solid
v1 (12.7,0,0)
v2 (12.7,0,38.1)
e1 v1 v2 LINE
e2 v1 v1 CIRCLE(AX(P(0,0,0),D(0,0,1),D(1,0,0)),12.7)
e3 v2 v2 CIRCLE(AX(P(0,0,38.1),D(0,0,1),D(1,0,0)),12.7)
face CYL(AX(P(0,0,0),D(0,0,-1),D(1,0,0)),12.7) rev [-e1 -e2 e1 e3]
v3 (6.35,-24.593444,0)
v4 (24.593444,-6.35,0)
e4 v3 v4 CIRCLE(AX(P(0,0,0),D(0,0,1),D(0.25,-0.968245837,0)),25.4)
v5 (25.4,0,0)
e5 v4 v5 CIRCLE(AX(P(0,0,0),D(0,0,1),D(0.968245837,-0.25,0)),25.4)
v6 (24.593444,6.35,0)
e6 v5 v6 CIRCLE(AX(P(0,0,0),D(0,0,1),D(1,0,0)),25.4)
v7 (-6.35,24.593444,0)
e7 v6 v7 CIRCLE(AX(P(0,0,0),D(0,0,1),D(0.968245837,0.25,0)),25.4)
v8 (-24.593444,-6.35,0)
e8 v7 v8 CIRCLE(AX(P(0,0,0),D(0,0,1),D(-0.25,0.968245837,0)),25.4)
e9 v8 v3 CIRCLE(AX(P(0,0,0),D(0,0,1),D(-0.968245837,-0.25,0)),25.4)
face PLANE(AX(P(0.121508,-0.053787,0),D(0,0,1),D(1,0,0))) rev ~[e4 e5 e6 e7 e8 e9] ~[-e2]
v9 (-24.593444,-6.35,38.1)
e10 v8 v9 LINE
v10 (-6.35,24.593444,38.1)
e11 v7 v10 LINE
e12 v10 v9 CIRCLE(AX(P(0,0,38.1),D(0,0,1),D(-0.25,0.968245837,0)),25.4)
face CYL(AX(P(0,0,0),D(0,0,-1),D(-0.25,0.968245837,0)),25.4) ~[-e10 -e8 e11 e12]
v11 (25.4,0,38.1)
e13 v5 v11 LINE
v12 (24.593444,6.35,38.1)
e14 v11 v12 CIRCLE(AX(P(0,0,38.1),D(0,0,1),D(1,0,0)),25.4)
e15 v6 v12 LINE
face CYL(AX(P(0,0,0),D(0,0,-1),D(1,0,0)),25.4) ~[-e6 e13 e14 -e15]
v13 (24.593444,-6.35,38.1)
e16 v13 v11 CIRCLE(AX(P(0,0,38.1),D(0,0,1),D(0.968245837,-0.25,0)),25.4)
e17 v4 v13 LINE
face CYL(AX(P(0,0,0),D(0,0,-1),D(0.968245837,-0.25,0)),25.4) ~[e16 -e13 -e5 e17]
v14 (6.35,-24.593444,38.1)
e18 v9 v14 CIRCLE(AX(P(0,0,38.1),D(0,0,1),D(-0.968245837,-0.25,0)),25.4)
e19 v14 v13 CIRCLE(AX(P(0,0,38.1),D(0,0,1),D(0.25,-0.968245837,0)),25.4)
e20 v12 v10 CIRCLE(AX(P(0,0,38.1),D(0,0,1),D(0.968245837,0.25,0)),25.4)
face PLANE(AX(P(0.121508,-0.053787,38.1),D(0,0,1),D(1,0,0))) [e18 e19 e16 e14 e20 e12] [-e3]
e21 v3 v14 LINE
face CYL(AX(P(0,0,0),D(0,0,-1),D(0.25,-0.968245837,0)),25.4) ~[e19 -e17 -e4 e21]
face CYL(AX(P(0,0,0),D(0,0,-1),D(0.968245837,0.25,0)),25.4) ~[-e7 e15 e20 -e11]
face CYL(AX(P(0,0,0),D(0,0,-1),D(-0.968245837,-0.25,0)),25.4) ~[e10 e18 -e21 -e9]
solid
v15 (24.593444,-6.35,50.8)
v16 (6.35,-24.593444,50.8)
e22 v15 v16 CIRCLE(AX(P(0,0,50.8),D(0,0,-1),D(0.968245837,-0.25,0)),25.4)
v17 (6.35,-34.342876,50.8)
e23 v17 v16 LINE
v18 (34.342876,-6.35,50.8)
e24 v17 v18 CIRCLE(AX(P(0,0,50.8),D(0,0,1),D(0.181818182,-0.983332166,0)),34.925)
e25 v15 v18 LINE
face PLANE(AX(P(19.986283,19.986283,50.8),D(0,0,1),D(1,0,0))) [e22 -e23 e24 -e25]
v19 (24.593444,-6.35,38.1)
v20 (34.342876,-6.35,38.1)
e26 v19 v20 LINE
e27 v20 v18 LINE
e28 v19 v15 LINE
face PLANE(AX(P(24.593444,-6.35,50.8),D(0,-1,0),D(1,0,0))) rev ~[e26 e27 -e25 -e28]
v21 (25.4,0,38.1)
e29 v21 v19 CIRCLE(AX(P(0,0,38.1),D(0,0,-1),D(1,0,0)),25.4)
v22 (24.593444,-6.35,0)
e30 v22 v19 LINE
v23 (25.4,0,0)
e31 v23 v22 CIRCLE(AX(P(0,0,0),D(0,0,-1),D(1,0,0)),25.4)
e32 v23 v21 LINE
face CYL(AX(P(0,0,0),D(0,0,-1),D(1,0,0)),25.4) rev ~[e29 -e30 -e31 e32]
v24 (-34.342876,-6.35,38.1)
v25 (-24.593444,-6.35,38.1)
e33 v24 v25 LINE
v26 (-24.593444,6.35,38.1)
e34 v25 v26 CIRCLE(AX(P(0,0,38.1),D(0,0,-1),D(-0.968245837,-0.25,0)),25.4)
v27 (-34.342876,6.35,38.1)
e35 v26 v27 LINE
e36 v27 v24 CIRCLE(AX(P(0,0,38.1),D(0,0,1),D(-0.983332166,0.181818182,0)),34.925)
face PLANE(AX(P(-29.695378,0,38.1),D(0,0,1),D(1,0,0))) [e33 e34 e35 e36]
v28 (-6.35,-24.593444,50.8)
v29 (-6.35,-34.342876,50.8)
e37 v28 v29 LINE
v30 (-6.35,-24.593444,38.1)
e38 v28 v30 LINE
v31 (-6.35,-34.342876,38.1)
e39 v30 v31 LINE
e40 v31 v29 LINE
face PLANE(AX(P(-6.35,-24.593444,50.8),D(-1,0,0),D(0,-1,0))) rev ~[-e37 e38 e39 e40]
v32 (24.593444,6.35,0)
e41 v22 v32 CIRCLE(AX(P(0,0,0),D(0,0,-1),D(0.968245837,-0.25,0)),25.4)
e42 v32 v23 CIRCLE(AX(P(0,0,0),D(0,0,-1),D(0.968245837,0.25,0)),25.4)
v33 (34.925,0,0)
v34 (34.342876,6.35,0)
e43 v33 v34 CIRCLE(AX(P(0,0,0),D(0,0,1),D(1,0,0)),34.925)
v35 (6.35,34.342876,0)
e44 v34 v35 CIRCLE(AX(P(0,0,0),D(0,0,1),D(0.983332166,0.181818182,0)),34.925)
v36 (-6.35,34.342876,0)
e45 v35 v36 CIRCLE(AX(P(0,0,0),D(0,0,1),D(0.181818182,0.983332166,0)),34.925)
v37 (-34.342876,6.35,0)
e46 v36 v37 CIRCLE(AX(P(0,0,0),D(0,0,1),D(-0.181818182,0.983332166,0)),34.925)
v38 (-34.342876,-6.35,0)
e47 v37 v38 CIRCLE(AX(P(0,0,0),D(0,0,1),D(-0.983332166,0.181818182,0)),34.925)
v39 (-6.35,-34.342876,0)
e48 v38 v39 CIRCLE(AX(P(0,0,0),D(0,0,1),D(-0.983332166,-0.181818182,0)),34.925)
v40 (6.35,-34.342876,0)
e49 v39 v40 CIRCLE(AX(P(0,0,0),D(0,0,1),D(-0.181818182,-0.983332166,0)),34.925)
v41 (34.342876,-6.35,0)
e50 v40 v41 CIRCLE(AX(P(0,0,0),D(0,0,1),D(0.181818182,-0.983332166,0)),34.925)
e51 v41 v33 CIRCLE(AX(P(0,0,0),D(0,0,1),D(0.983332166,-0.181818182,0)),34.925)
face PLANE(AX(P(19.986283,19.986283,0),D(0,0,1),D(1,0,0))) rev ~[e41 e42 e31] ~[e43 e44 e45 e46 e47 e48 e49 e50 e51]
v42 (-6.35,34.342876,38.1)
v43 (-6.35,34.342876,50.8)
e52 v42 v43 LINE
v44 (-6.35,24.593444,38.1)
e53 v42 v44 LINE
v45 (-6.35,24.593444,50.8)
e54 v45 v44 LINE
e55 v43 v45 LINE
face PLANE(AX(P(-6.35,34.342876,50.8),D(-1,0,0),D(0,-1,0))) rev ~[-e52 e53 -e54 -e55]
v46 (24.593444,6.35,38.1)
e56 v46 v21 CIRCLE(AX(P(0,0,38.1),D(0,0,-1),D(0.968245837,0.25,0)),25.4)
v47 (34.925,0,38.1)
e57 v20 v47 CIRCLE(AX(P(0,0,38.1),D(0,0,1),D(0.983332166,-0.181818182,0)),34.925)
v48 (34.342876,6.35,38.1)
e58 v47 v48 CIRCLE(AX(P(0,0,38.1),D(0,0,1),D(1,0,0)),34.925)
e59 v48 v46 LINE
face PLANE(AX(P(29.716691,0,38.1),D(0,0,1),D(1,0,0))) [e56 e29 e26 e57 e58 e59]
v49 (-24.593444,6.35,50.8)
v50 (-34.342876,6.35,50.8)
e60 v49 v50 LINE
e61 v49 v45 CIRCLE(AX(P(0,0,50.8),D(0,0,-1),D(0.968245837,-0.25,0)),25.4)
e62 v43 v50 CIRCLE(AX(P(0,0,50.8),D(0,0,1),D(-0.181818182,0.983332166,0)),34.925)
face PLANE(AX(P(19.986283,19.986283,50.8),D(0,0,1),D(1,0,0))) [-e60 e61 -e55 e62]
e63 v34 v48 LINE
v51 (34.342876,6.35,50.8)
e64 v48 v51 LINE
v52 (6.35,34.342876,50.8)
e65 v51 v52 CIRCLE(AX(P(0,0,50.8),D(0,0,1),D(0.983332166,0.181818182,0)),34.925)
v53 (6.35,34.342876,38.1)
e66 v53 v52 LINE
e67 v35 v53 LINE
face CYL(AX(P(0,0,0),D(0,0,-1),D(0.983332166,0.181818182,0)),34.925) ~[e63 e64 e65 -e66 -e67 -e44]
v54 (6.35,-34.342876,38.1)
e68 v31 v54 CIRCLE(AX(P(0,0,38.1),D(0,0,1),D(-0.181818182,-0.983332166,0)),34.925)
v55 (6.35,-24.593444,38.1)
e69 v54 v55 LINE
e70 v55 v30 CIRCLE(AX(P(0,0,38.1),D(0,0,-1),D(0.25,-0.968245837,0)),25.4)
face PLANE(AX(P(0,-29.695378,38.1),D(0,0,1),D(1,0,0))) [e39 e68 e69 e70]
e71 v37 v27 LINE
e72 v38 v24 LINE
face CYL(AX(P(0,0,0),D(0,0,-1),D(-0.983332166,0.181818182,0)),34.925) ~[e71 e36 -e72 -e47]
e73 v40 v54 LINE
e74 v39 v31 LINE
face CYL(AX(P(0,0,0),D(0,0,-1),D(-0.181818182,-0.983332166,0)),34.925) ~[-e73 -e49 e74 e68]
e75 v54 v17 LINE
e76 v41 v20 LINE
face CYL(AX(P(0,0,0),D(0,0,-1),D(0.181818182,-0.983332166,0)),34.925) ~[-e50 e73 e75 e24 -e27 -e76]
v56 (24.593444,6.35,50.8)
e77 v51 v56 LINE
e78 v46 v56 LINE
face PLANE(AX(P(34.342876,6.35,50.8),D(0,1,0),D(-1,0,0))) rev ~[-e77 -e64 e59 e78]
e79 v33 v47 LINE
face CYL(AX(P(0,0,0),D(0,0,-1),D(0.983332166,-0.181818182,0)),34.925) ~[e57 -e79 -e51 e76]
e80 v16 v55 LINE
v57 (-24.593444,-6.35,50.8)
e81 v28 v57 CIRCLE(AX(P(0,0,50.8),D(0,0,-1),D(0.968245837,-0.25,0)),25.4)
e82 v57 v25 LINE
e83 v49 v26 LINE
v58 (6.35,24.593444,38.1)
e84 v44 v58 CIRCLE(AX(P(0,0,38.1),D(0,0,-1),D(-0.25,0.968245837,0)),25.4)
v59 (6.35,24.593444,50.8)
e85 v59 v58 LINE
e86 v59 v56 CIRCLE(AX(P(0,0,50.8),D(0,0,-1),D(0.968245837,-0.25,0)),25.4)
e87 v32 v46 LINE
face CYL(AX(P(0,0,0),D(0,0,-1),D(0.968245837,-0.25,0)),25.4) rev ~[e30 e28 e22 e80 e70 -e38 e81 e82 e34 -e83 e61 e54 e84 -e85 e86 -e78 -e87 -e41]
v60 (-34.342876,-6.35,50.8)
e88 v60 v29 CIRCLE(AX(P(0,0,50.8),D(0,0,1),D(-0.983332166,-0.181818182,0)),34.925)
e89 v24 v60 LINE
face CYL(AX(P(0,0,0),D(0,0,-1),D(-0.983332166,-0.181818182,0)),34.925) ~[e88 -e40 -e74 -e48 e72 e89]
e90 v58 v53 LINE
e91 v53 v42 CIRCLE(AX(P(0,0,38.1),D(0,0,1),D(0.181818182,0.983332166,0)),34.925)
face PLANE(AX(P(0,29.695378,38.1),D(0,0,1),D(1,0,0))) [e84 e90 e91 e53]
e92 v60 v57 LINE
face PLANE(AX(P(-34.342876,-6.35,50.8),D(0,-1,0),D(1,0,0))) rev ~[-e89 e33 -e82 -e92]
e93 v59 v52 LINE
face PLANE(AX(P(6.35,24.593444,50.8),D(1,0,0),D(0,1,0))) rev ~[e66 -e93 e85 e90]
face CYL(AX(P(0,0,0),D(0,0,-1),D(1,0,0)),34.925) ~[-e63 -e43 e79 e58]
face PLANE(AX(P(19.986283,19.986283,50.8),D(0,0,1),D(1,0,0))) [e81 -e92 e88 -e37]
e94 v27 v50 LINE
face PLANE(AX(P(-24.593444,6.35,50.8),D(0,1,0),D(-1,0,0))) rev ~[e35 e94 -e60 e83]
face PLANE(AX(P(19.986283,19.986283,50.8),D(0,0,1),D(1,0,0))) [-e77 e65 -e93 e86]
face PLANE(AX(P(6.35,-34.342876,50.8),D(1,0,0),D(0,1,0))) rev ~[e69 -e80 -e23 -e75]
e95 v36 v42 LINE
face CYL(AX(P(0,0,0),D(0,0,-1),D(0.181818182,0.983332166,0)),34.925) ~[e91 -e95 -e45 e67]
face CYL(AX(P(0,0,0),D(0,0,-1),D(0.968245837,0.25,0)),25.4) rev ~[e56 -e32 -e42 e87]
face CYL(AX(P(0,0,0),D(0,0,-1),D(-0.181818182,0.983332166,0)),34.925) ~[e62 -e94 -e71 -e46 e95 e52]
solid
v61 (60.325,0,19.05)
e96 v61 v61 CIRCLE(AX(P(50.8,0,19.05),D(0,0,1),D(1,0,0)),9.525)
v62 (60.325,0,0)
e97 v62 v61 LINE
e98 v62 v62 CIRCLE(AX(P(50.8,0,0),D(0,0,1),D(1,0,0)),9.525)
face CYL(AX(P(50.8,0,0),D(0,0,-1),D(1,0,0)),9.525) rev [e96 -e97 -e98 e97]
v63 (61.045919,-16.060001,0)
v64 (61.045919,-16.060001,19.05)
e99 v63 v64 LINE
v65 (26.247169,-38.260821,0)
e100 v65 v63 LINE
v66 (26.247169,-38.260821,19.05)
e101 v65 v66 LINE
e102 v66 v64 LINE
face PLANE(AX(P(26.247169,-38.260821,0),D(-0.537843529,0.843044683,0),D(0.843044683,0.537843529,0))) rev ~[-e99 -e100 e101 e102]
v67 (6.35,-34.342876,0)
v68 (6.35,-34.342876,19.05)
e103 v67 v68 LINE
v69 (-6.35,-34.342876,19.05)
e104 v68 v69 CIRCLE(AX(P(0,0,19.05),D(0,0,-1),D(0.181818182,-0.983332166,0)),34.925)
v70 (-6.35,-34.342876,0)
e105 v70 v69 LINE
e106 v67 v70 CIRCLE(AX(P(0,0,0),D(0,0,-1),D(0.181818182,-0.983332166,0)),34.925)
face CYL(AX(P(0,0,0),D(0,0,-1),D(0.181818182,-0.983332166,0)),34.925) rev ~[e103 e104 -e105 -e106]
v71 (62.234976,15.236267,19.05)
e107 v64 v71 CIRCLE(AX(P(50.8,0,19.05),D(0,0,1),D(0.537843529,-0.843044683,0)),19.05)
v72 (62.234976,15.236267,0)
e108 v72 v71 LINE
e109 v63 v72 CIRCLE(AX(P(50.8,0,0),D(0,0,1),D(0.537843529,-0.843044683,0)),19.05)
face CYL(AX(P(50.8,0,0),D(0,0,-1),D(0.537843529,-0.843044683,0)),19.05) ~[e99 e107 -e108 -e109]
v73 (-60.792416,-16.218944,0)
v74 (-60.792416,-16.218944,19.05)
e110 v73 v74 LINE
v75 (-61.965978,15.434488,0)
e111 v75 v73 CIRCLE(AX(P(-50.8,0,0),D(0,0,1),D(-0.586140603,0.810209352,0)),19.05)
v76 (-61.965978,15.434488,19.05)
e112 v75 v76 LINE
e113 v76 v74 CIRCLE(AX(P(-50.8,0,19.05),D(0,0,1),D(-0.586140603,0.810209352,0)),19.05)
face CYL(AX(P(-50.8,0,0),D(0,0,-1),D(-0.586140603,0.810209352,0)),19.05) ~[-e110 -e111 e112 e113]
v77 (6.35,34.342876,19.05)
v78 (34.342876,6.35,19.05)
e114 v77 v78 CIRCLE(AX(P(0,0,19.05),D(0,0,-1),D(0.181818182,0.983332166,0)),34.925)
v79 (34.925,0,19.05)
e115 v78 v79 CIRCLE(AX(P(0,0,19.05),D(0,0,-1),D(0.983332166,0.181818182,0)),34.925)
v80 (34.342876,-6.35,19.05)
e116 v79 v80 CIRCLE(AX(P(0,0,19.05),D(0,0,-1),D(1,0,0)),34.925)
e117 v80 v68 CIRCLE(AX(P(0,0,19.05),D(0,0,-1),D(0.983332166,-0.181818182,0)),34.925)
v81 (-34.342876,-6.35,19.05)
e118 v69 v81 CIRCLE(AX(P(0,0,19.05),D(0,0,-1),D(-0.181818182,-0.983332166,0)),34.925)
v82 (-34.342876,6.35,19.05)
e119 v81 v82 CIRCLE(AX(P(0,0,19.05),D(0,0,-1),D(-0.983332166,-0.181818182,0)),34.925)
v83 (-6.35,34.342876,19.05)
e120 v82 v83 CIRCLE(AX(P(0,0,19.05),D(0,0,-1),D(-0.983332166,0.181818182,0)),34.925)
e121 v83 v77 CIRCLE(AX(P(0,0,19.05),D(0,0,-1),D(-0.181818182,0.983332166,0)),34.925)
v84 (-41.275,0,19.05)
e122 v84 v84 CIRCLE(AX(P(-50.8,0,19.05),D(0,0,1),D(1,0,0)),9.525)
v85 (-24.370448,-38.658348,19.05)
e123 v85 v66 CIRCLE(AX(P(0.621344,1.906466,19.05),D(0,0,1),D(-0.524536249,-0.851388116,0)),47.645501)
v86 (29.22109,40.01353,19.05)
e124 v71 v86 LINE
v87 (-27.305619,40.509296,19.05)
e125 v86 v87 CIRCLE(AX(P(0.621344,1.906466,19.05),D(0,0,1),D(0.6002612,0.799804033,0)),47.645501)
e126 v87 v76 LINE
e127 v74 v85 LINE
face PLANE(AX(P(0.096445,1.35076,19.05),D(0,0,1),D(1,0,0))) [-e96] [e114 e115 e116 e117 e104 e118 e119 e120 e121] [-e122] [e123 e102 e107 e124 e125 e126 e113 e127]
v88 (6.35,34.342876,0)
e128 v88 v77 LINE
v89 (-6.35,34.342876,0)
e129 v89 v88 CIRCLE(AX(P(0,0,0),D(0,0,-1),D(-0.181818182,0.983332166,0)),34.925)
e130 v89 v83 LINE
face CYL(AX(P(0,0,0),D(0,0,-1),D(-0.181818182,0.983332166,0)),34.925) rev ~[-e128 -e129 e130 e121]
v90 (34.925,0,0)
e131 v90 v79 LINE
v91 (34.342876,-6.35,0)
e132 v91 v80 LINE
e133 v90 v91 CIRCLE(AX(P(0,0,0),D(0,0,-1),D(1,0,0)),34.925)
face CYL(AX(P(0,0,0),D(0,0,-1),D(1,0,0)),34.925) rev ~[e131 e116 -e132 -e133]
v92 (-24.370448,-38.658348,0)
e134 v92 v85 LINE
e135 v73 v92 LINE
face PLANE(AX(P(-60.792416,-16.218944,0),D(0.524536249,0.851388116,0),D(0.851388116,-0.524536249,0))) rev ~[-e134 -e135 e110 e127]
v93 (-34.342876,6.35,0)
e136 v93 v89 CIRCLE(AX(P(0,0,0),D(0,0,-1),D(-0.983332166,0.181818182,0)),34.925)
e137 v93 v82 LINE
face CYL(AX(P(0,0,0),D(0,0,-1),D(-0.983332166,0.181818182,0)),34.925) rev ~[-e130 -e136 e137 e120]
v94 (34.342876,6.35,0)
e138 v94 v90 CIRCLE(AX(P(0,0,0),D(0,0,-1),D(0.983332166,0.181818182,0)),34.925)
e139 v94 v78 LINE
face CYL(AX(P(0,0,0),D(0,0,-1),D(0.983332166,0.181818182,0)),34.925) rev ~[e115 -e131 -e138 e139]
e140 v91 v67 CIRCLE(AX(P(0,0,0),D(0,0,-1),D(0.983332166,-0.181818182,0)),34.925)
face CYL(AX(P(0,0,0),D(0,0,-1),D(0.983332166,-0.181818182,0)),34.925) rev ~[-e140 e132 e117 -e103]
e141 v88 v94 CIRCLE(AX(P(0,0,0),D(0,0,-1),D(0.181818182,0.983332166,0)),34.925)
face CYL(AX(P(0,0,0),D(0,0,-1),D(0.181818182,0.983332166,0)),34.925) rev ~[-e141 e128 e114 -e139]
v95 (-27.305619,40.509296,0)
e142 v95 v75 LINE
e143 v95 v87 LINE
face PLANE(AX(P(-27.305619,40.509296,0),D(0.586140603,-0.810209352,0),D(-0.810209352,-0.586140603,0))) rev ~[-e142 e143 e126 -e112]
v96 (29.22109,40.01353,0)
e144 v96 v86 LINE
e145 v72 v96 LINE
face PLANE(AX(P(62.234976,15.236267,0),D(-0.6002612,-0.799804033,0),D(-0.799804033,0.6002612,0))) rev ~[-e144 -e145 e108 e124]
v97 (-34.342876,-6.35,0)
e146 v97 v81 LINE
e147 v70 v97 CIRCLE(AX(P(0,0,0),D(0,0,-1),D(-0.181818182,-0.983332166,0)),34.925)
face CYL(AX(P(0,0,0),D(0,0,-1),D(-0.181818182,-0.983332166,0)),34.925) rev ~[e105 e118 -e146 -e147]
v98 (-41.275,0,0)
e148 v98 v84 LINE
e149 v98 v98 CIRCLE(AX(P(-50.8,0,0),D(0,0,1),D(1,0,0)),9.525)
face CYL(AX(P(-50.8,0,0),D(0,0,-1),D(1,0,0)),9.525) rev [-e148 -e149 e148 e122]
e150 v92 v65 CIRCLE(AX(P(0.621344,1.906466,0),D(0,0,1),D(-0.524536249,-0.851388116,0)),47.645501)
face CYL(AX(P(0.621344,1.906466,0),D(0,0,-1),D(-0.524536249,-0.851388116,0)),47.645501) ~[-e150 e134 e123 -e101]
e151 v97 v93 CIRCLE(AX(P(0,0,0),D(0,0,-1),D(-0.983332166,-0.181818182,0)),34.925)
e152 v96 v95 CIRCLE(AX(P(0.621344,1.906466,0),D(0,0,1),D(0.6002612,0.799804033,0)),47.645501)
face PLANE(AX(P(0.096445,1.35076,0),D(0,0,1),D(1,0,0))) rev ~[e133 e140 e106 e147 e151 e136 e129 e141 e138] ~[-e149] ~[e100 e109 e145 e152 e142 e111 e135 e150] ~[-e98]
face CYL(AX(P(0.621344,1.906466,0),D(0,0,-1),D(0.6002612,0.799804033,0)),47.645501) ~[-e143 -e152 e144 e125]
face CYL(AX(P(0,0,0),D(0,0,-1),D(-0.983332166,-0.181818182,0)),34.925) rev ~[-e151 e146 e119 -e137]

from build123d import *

# Parameters (mm, degrees)
F0_R     = 9.525
F1_DEPTH = 19.05
F0_R_2   = 12.7
F2_DEPTH = 38.1
F3_DEPTH = 50.8
F5_DEPTH = 12.7


with BuildPart() as f1:
    # F0 (on Top) → F1 (new body)
    with BuildSketch(Plane.XY):
        with BuildLine():
            Line((-27.3056187604, 40.5092964203), (-61.9659784878, 15.4344881486))
            ThreePointArc((-61.9659784878, 15.4344881486), (-69.8369205733, -0.7058010235), (-60.7924155452, -16.2189436022))
            Line((-60.7924155452, -16.2189436022), (-24.3704484388, -38.6583477475))
            ThreePointArc((-24.3704484388, -38.6583477475), (0.9955179359, -45.7375661979), (26.2471685991, -38.2608207318))
            Line((26.2471685991, -38.2608207318), (61.0459192334, -16.0600012162))
            ThreePointArc((61.0459192334, -16.0600012162), (69.8362654294, -0.7232554874), (62.2349758625, 15.2362668335))
            Line((62.2349758625, 15.2362668335), (29.2210898111, 40.0135298109))
            ThreePointArc((29.2210898111, 40.0135298109), (1.0392021113, 49.5501346169), (-27.3056187604, 40.5092964203))
        make_face()
        with Locations((-50.8, 0)):
            Circle(F0_R, mode=Mode.SUBTRACT)
        with BuildLine():
            ThreePointArc((34.3428758988, 6.35), (34.7791644937, 3.1883133656), (34.925, 0))
            ThreePointArc((34.925, 0), (34.7791644937, -3.1883133656), (34.3428758988, -6.35))
            ThreePointArc((34.3428758988, -6.35), (24.6957043329, -24.6957043329), (6.35, -34.3428758988))
            ThreePointArc((6.35, -34.3428758988), (0, -34.925), (-6.35, -34.3428758988))
            ThreePointArc((-6.35, -34.3428758988), (-24.6957043329, -24.6957043329), (-34.3428758988, -6.35))
            ThreePointArc((-34.3428758988, -6.35), (-34.925, 0), (-34.3428758988, 6.35))
            ThreePointArc((-34.3428758988, 6.35), (-24.6957043329, 24.6957043329), (-6.35, 34.3428758988))
            ThreePointArc((-6.35, 34.3428758988), (0, 34.925), (6.35, 34.3428758988))
            ThreePointArc((6.35, 34.3428758988), (24.6957043329, 24.6957043329), (34.3428758988, 6.35))
        make_face(mode=Mode.SUBTRACT)
        with Locations((50.8, 0)):
            Circle(F0_R, mode=Mode.SUBTRACT)
    extrude(amount=F1_DEPTH)


with BuildPart() as f2:
    # F0 (on Top) → F2 (new body)
    with BuildSketch(Plane.XY):
        with BuildLine():
            ThreePointArc((25.4, 0), (25.1975542852, 3.2005090291), (24.5934442484, 6.35))
            ThreePointArc((24.5934442484, 6.35), (17.9605122421, 17.9605122421), (6.35, 24.5934442484))
            ThreePointArc((6.35, 24.5934442484), (0, 25.4), (-6.35, 24.5934442484))
            ThreePointArc((-6.35, 24.5934442484), (-17.9605122421, 17.9605122421), (-24.5934442484, 6.35))
            ThreePointArc((-24.5934442484, 6.35), (-25.4, 0), (-24.5934442484, -6.35))
            ThreePointArc((-24.5934442484, -6.35), (-17.9605122421, -17.9605122421), (-6.35, -24.5934442484))
            ThreePointArc((-6.35, -24.5934442484), (0, -25.4), (6.35, -24.5934442484))
            ThreePointArc((6.35, -24.5934442484), (17.9605122421, -17.9605122421), (24.5934442484, -6.35))
            ThreePointArc((24.5934442484, -6.35), (25.1975542852, -3.2005090291), (25.4, 0))
        make_face()
        Circle(F0_R_2, mode=Mode.SUBTRACT)
    extrude(amount=F2_DEPTH)


with BuildPart() as f3:
    # F0 (on Top) → F3 (new body)
    with BuildSketch(Plane.XY):
        with BuildLine():
            Line((30.4367747158, 6.35), (34.3428758988, 6.35))
            ThreePointArc((34.3428758988, 6.35), (24.6957043329, 24.6957043329), (6.35, 34.3428758988))
            Line((6.35, 34.3428758988), (6.35, 30.61629273))
            Line((6.35, 30.61629273), (6.35, 24.5934442484))
            ThreePointArc((6.35, 24.5934442484), (17.9605122421, 17.9605122421), (24.5934442484, 6.35))
            Line((24.5934442484, 6.35), (30.4367747158, 6.35))
        make_face()
        with BuildLine():
            Line((6.35, 30.61629273), (6.35, 34.3428758988))
            ThreePointArc((6.35, 34.3428758988), (0, 34.925), (-6.35, 34.3428758988))
            Line((-6.35, 34.3428758988), (-6.35, 30.61629273))
            Line((-6.35, 30.61629273), (-6.35, 24.5934442484))
            ThreePointArc((-6.35, 24.5934442484), (0, 25.4), (6.35, 24.5934442484))
            Line((6.35, 24.5934442484), (6.35, 30.61629273))
        make_face()
        with BuildLine():
            Line((-6.35, 30.61629273), (-6.35, 34.3428758988))
            ThreePointArc((-6.35, 34.3428758988), (-24.6957043329, 24.6957043329), (-34.3428758988, 6.35))
            Line((-34.3428758988, 6.35), (-30.105708167, 6.35))
            Line((-30.105708167, 6.35), (-24.5934442484, 6.35))
            ThreePointArc((-24.5934442484, 6.35), (-17.9605122421, 17.9605122421), (-6.35, 24.5934442484))
            Line((-6.35, 24.5934442484), (-6.35, 30.61629273))
        make_face()
        with BuildLine():
            Line((-30.105708167, 6.35), (-34.3428758988, 6.35))
            ThreePointArc((-34.3428758988, 6.35), (-34.925, 0), (-34.3428758988, -6.35))
            Line((-34.3428758988, -6.35), (-30.105708167, -6.35))
            Line((-30.105708167, -6.35), (-24.5934442484, -6.35))
            ThreePointArc((-24.5934442484, -6.35), (-25.4, 0), (-24.5934442484, 6.35))
            Line((-24.5934442484, 6.35), (-30.105708167, 6.35))
        make_face()
        with BuildLine():
            ThreePointArc((-34.3428758988, -6.35), (-24.6957043329, -24.6957043329), (-6.35, -34.3428758988))
            Line((-6.35, -34.3428758988), (-6.35, -30.5674783885))
            Line((-6.35, -30.5674783885), (-6.35, -24.5934442484))
            ThreePointArc((-6.35, -24.5934442484), (-17.9605122421, -17.9605122421), (-24.5934442484, -6.35))
            Line((-24.5934442484, -6.35), (-30.105708167, -6.35))
            Line((-30.105708167, -6.35), (-34.3428758988, -6.35))
        make_face()
        with BuildLine():
            ThreePointArc((-6.35, -34.3428758988), (0, -34.925), (6.35, -34.3428758988))
            Line((6.35, -34.3428758988), (6.35, -30.5674783885))
            Line((6.35, -30.5674783885), (6.35, -24.5934442484))
            ThreePointArc((6.35, -24.5934442484), (0, -25.4), (-6.35, -24.5934442484))
            Line((-6.35, -24.5934442484), (-6.35, -30.5674783885))
            Line((-6.35, -30.5674783885), (-6.35, -34.3428758988))
        make_face()
        with BuildLine():
            ThreePointArc((6.35, -34.3428758988), (24.6957043329, -24.6957043329), (34.3428758988, -6.35))
            Line((34.3428758988, -6.35), (30.4367747158, -6.35))
            Line((30.4367747158, -6.35), (24.5934442484, -6.35))
            ThreePointArc((24.5934442484, -6.35), (17.9605122421, -17.9605122421), (6.35, -24.5934442484))
            Line((6.35, -24.5934442484), (6.35, -30.5674783885))
            Line((6.35, -30.5674783885), (6.35, -34.3428758988))
        make_face()
        with BuildLine():
            ThreePointArc((34.3428758988, -6.35), (34.7791644937, -3.1883133656), (34.925, 0))
            ThreePointArc((34.925, 0), (34.7791644937, 3.1883133656), (34.3428758988, 6.35))
            Line((34.3428758988, 6.35), (30.4367747158, 6.35))
            Line((30.4367747158, 6.35), (24.5934442484, 6.35))
            ThreePointArc((24.5934442484, 6.35), (25.1975542852, 3.2005090291), (25.4, 0))
            ThreePointArc((25.4, 0), (25.1975542852, -3.2005090291), (24.5934442484, -6.35))
            Line((24.5934442484, -6.35), (30.4367747158, -6.35))
            Line((30.4367747158, -6.35), (34.3428758988, -6.35))
        make_face()
    extrude(amount=F3_DEPTH)

    # F4 (on face) → F5 (cut)
    with BuildSketch(Plane.XY.offset(50.8)):
        with BuildLine():
            ThreePointArc((-6.35, -34.3428758988), (0, -34.925), (6.35, -34.3428758988))
            Line((6.35, -34.3428758988), (6.35, -24.5934442484))
            ThreePointArc((6.35, -24.5934442484), (0, -25.4), (-6.35, -24.5934442484))
            Line((-6.35, -24.5934442484), (-6.35, -34.3428758988))
        make_face()
        with BuildLine():
            Line((-24.5934442484, 6.35), (-34.3428758988, 6.35))
            ThreePointArc((-34.3428758988, 6.35), (-34.925, 0), (-34.3428758988, -6.35))
            Line((-34.3428758988, -6.35), (-24.5934442484, -6.35))
            ThreePointArc((-24.5934442484, -6.35), (-25.4, 0), (-24.5934442484, 6.35))
        make_face()
        with BuildLine():
            Line((6.35, 24.5934442484), (6.35, 34.3428758988))
            ThreePointArc((6.35, 34.3428758988), (0, 34.925), (-6.35, 34.3428758988))
            Line((-6.35, 34.3428758988), (-6.35, 24.5934442484))
            ThreePointArc((-6.35, 24.5934442484), (0, 25.4), (6.35, 24.5934442484))
        make_face()
        with BuildLine():
            ThreePointArc((34.925, 0), (34.7791644937, 3.1883133656), (34.3428758988, 6.35))
            Line((34.3428758988, 6.35), (24.5934442484, 6.35))
            ThreePointArc((24.5934442484, 6.35), (25.1975542852, 3.2005090291), (25.4, 0))
            ThreePointArc((25.4, 0), (25.1975542852, -3.2005090291), (24.5934442484, -6.35))
            Line((24.5934442484, -6.35), (34.3428758988, -6.35))
            ThreePointArc((34.3428758988, -6.35), (34.7791644937, -3.1883133656), (34.925, 0))
        make_face()
    extrude(amount=-F5_DEPTH, mode=Mode.SUBTRACT)


solid = Compound([f1.part, f2.part, f3.part])
